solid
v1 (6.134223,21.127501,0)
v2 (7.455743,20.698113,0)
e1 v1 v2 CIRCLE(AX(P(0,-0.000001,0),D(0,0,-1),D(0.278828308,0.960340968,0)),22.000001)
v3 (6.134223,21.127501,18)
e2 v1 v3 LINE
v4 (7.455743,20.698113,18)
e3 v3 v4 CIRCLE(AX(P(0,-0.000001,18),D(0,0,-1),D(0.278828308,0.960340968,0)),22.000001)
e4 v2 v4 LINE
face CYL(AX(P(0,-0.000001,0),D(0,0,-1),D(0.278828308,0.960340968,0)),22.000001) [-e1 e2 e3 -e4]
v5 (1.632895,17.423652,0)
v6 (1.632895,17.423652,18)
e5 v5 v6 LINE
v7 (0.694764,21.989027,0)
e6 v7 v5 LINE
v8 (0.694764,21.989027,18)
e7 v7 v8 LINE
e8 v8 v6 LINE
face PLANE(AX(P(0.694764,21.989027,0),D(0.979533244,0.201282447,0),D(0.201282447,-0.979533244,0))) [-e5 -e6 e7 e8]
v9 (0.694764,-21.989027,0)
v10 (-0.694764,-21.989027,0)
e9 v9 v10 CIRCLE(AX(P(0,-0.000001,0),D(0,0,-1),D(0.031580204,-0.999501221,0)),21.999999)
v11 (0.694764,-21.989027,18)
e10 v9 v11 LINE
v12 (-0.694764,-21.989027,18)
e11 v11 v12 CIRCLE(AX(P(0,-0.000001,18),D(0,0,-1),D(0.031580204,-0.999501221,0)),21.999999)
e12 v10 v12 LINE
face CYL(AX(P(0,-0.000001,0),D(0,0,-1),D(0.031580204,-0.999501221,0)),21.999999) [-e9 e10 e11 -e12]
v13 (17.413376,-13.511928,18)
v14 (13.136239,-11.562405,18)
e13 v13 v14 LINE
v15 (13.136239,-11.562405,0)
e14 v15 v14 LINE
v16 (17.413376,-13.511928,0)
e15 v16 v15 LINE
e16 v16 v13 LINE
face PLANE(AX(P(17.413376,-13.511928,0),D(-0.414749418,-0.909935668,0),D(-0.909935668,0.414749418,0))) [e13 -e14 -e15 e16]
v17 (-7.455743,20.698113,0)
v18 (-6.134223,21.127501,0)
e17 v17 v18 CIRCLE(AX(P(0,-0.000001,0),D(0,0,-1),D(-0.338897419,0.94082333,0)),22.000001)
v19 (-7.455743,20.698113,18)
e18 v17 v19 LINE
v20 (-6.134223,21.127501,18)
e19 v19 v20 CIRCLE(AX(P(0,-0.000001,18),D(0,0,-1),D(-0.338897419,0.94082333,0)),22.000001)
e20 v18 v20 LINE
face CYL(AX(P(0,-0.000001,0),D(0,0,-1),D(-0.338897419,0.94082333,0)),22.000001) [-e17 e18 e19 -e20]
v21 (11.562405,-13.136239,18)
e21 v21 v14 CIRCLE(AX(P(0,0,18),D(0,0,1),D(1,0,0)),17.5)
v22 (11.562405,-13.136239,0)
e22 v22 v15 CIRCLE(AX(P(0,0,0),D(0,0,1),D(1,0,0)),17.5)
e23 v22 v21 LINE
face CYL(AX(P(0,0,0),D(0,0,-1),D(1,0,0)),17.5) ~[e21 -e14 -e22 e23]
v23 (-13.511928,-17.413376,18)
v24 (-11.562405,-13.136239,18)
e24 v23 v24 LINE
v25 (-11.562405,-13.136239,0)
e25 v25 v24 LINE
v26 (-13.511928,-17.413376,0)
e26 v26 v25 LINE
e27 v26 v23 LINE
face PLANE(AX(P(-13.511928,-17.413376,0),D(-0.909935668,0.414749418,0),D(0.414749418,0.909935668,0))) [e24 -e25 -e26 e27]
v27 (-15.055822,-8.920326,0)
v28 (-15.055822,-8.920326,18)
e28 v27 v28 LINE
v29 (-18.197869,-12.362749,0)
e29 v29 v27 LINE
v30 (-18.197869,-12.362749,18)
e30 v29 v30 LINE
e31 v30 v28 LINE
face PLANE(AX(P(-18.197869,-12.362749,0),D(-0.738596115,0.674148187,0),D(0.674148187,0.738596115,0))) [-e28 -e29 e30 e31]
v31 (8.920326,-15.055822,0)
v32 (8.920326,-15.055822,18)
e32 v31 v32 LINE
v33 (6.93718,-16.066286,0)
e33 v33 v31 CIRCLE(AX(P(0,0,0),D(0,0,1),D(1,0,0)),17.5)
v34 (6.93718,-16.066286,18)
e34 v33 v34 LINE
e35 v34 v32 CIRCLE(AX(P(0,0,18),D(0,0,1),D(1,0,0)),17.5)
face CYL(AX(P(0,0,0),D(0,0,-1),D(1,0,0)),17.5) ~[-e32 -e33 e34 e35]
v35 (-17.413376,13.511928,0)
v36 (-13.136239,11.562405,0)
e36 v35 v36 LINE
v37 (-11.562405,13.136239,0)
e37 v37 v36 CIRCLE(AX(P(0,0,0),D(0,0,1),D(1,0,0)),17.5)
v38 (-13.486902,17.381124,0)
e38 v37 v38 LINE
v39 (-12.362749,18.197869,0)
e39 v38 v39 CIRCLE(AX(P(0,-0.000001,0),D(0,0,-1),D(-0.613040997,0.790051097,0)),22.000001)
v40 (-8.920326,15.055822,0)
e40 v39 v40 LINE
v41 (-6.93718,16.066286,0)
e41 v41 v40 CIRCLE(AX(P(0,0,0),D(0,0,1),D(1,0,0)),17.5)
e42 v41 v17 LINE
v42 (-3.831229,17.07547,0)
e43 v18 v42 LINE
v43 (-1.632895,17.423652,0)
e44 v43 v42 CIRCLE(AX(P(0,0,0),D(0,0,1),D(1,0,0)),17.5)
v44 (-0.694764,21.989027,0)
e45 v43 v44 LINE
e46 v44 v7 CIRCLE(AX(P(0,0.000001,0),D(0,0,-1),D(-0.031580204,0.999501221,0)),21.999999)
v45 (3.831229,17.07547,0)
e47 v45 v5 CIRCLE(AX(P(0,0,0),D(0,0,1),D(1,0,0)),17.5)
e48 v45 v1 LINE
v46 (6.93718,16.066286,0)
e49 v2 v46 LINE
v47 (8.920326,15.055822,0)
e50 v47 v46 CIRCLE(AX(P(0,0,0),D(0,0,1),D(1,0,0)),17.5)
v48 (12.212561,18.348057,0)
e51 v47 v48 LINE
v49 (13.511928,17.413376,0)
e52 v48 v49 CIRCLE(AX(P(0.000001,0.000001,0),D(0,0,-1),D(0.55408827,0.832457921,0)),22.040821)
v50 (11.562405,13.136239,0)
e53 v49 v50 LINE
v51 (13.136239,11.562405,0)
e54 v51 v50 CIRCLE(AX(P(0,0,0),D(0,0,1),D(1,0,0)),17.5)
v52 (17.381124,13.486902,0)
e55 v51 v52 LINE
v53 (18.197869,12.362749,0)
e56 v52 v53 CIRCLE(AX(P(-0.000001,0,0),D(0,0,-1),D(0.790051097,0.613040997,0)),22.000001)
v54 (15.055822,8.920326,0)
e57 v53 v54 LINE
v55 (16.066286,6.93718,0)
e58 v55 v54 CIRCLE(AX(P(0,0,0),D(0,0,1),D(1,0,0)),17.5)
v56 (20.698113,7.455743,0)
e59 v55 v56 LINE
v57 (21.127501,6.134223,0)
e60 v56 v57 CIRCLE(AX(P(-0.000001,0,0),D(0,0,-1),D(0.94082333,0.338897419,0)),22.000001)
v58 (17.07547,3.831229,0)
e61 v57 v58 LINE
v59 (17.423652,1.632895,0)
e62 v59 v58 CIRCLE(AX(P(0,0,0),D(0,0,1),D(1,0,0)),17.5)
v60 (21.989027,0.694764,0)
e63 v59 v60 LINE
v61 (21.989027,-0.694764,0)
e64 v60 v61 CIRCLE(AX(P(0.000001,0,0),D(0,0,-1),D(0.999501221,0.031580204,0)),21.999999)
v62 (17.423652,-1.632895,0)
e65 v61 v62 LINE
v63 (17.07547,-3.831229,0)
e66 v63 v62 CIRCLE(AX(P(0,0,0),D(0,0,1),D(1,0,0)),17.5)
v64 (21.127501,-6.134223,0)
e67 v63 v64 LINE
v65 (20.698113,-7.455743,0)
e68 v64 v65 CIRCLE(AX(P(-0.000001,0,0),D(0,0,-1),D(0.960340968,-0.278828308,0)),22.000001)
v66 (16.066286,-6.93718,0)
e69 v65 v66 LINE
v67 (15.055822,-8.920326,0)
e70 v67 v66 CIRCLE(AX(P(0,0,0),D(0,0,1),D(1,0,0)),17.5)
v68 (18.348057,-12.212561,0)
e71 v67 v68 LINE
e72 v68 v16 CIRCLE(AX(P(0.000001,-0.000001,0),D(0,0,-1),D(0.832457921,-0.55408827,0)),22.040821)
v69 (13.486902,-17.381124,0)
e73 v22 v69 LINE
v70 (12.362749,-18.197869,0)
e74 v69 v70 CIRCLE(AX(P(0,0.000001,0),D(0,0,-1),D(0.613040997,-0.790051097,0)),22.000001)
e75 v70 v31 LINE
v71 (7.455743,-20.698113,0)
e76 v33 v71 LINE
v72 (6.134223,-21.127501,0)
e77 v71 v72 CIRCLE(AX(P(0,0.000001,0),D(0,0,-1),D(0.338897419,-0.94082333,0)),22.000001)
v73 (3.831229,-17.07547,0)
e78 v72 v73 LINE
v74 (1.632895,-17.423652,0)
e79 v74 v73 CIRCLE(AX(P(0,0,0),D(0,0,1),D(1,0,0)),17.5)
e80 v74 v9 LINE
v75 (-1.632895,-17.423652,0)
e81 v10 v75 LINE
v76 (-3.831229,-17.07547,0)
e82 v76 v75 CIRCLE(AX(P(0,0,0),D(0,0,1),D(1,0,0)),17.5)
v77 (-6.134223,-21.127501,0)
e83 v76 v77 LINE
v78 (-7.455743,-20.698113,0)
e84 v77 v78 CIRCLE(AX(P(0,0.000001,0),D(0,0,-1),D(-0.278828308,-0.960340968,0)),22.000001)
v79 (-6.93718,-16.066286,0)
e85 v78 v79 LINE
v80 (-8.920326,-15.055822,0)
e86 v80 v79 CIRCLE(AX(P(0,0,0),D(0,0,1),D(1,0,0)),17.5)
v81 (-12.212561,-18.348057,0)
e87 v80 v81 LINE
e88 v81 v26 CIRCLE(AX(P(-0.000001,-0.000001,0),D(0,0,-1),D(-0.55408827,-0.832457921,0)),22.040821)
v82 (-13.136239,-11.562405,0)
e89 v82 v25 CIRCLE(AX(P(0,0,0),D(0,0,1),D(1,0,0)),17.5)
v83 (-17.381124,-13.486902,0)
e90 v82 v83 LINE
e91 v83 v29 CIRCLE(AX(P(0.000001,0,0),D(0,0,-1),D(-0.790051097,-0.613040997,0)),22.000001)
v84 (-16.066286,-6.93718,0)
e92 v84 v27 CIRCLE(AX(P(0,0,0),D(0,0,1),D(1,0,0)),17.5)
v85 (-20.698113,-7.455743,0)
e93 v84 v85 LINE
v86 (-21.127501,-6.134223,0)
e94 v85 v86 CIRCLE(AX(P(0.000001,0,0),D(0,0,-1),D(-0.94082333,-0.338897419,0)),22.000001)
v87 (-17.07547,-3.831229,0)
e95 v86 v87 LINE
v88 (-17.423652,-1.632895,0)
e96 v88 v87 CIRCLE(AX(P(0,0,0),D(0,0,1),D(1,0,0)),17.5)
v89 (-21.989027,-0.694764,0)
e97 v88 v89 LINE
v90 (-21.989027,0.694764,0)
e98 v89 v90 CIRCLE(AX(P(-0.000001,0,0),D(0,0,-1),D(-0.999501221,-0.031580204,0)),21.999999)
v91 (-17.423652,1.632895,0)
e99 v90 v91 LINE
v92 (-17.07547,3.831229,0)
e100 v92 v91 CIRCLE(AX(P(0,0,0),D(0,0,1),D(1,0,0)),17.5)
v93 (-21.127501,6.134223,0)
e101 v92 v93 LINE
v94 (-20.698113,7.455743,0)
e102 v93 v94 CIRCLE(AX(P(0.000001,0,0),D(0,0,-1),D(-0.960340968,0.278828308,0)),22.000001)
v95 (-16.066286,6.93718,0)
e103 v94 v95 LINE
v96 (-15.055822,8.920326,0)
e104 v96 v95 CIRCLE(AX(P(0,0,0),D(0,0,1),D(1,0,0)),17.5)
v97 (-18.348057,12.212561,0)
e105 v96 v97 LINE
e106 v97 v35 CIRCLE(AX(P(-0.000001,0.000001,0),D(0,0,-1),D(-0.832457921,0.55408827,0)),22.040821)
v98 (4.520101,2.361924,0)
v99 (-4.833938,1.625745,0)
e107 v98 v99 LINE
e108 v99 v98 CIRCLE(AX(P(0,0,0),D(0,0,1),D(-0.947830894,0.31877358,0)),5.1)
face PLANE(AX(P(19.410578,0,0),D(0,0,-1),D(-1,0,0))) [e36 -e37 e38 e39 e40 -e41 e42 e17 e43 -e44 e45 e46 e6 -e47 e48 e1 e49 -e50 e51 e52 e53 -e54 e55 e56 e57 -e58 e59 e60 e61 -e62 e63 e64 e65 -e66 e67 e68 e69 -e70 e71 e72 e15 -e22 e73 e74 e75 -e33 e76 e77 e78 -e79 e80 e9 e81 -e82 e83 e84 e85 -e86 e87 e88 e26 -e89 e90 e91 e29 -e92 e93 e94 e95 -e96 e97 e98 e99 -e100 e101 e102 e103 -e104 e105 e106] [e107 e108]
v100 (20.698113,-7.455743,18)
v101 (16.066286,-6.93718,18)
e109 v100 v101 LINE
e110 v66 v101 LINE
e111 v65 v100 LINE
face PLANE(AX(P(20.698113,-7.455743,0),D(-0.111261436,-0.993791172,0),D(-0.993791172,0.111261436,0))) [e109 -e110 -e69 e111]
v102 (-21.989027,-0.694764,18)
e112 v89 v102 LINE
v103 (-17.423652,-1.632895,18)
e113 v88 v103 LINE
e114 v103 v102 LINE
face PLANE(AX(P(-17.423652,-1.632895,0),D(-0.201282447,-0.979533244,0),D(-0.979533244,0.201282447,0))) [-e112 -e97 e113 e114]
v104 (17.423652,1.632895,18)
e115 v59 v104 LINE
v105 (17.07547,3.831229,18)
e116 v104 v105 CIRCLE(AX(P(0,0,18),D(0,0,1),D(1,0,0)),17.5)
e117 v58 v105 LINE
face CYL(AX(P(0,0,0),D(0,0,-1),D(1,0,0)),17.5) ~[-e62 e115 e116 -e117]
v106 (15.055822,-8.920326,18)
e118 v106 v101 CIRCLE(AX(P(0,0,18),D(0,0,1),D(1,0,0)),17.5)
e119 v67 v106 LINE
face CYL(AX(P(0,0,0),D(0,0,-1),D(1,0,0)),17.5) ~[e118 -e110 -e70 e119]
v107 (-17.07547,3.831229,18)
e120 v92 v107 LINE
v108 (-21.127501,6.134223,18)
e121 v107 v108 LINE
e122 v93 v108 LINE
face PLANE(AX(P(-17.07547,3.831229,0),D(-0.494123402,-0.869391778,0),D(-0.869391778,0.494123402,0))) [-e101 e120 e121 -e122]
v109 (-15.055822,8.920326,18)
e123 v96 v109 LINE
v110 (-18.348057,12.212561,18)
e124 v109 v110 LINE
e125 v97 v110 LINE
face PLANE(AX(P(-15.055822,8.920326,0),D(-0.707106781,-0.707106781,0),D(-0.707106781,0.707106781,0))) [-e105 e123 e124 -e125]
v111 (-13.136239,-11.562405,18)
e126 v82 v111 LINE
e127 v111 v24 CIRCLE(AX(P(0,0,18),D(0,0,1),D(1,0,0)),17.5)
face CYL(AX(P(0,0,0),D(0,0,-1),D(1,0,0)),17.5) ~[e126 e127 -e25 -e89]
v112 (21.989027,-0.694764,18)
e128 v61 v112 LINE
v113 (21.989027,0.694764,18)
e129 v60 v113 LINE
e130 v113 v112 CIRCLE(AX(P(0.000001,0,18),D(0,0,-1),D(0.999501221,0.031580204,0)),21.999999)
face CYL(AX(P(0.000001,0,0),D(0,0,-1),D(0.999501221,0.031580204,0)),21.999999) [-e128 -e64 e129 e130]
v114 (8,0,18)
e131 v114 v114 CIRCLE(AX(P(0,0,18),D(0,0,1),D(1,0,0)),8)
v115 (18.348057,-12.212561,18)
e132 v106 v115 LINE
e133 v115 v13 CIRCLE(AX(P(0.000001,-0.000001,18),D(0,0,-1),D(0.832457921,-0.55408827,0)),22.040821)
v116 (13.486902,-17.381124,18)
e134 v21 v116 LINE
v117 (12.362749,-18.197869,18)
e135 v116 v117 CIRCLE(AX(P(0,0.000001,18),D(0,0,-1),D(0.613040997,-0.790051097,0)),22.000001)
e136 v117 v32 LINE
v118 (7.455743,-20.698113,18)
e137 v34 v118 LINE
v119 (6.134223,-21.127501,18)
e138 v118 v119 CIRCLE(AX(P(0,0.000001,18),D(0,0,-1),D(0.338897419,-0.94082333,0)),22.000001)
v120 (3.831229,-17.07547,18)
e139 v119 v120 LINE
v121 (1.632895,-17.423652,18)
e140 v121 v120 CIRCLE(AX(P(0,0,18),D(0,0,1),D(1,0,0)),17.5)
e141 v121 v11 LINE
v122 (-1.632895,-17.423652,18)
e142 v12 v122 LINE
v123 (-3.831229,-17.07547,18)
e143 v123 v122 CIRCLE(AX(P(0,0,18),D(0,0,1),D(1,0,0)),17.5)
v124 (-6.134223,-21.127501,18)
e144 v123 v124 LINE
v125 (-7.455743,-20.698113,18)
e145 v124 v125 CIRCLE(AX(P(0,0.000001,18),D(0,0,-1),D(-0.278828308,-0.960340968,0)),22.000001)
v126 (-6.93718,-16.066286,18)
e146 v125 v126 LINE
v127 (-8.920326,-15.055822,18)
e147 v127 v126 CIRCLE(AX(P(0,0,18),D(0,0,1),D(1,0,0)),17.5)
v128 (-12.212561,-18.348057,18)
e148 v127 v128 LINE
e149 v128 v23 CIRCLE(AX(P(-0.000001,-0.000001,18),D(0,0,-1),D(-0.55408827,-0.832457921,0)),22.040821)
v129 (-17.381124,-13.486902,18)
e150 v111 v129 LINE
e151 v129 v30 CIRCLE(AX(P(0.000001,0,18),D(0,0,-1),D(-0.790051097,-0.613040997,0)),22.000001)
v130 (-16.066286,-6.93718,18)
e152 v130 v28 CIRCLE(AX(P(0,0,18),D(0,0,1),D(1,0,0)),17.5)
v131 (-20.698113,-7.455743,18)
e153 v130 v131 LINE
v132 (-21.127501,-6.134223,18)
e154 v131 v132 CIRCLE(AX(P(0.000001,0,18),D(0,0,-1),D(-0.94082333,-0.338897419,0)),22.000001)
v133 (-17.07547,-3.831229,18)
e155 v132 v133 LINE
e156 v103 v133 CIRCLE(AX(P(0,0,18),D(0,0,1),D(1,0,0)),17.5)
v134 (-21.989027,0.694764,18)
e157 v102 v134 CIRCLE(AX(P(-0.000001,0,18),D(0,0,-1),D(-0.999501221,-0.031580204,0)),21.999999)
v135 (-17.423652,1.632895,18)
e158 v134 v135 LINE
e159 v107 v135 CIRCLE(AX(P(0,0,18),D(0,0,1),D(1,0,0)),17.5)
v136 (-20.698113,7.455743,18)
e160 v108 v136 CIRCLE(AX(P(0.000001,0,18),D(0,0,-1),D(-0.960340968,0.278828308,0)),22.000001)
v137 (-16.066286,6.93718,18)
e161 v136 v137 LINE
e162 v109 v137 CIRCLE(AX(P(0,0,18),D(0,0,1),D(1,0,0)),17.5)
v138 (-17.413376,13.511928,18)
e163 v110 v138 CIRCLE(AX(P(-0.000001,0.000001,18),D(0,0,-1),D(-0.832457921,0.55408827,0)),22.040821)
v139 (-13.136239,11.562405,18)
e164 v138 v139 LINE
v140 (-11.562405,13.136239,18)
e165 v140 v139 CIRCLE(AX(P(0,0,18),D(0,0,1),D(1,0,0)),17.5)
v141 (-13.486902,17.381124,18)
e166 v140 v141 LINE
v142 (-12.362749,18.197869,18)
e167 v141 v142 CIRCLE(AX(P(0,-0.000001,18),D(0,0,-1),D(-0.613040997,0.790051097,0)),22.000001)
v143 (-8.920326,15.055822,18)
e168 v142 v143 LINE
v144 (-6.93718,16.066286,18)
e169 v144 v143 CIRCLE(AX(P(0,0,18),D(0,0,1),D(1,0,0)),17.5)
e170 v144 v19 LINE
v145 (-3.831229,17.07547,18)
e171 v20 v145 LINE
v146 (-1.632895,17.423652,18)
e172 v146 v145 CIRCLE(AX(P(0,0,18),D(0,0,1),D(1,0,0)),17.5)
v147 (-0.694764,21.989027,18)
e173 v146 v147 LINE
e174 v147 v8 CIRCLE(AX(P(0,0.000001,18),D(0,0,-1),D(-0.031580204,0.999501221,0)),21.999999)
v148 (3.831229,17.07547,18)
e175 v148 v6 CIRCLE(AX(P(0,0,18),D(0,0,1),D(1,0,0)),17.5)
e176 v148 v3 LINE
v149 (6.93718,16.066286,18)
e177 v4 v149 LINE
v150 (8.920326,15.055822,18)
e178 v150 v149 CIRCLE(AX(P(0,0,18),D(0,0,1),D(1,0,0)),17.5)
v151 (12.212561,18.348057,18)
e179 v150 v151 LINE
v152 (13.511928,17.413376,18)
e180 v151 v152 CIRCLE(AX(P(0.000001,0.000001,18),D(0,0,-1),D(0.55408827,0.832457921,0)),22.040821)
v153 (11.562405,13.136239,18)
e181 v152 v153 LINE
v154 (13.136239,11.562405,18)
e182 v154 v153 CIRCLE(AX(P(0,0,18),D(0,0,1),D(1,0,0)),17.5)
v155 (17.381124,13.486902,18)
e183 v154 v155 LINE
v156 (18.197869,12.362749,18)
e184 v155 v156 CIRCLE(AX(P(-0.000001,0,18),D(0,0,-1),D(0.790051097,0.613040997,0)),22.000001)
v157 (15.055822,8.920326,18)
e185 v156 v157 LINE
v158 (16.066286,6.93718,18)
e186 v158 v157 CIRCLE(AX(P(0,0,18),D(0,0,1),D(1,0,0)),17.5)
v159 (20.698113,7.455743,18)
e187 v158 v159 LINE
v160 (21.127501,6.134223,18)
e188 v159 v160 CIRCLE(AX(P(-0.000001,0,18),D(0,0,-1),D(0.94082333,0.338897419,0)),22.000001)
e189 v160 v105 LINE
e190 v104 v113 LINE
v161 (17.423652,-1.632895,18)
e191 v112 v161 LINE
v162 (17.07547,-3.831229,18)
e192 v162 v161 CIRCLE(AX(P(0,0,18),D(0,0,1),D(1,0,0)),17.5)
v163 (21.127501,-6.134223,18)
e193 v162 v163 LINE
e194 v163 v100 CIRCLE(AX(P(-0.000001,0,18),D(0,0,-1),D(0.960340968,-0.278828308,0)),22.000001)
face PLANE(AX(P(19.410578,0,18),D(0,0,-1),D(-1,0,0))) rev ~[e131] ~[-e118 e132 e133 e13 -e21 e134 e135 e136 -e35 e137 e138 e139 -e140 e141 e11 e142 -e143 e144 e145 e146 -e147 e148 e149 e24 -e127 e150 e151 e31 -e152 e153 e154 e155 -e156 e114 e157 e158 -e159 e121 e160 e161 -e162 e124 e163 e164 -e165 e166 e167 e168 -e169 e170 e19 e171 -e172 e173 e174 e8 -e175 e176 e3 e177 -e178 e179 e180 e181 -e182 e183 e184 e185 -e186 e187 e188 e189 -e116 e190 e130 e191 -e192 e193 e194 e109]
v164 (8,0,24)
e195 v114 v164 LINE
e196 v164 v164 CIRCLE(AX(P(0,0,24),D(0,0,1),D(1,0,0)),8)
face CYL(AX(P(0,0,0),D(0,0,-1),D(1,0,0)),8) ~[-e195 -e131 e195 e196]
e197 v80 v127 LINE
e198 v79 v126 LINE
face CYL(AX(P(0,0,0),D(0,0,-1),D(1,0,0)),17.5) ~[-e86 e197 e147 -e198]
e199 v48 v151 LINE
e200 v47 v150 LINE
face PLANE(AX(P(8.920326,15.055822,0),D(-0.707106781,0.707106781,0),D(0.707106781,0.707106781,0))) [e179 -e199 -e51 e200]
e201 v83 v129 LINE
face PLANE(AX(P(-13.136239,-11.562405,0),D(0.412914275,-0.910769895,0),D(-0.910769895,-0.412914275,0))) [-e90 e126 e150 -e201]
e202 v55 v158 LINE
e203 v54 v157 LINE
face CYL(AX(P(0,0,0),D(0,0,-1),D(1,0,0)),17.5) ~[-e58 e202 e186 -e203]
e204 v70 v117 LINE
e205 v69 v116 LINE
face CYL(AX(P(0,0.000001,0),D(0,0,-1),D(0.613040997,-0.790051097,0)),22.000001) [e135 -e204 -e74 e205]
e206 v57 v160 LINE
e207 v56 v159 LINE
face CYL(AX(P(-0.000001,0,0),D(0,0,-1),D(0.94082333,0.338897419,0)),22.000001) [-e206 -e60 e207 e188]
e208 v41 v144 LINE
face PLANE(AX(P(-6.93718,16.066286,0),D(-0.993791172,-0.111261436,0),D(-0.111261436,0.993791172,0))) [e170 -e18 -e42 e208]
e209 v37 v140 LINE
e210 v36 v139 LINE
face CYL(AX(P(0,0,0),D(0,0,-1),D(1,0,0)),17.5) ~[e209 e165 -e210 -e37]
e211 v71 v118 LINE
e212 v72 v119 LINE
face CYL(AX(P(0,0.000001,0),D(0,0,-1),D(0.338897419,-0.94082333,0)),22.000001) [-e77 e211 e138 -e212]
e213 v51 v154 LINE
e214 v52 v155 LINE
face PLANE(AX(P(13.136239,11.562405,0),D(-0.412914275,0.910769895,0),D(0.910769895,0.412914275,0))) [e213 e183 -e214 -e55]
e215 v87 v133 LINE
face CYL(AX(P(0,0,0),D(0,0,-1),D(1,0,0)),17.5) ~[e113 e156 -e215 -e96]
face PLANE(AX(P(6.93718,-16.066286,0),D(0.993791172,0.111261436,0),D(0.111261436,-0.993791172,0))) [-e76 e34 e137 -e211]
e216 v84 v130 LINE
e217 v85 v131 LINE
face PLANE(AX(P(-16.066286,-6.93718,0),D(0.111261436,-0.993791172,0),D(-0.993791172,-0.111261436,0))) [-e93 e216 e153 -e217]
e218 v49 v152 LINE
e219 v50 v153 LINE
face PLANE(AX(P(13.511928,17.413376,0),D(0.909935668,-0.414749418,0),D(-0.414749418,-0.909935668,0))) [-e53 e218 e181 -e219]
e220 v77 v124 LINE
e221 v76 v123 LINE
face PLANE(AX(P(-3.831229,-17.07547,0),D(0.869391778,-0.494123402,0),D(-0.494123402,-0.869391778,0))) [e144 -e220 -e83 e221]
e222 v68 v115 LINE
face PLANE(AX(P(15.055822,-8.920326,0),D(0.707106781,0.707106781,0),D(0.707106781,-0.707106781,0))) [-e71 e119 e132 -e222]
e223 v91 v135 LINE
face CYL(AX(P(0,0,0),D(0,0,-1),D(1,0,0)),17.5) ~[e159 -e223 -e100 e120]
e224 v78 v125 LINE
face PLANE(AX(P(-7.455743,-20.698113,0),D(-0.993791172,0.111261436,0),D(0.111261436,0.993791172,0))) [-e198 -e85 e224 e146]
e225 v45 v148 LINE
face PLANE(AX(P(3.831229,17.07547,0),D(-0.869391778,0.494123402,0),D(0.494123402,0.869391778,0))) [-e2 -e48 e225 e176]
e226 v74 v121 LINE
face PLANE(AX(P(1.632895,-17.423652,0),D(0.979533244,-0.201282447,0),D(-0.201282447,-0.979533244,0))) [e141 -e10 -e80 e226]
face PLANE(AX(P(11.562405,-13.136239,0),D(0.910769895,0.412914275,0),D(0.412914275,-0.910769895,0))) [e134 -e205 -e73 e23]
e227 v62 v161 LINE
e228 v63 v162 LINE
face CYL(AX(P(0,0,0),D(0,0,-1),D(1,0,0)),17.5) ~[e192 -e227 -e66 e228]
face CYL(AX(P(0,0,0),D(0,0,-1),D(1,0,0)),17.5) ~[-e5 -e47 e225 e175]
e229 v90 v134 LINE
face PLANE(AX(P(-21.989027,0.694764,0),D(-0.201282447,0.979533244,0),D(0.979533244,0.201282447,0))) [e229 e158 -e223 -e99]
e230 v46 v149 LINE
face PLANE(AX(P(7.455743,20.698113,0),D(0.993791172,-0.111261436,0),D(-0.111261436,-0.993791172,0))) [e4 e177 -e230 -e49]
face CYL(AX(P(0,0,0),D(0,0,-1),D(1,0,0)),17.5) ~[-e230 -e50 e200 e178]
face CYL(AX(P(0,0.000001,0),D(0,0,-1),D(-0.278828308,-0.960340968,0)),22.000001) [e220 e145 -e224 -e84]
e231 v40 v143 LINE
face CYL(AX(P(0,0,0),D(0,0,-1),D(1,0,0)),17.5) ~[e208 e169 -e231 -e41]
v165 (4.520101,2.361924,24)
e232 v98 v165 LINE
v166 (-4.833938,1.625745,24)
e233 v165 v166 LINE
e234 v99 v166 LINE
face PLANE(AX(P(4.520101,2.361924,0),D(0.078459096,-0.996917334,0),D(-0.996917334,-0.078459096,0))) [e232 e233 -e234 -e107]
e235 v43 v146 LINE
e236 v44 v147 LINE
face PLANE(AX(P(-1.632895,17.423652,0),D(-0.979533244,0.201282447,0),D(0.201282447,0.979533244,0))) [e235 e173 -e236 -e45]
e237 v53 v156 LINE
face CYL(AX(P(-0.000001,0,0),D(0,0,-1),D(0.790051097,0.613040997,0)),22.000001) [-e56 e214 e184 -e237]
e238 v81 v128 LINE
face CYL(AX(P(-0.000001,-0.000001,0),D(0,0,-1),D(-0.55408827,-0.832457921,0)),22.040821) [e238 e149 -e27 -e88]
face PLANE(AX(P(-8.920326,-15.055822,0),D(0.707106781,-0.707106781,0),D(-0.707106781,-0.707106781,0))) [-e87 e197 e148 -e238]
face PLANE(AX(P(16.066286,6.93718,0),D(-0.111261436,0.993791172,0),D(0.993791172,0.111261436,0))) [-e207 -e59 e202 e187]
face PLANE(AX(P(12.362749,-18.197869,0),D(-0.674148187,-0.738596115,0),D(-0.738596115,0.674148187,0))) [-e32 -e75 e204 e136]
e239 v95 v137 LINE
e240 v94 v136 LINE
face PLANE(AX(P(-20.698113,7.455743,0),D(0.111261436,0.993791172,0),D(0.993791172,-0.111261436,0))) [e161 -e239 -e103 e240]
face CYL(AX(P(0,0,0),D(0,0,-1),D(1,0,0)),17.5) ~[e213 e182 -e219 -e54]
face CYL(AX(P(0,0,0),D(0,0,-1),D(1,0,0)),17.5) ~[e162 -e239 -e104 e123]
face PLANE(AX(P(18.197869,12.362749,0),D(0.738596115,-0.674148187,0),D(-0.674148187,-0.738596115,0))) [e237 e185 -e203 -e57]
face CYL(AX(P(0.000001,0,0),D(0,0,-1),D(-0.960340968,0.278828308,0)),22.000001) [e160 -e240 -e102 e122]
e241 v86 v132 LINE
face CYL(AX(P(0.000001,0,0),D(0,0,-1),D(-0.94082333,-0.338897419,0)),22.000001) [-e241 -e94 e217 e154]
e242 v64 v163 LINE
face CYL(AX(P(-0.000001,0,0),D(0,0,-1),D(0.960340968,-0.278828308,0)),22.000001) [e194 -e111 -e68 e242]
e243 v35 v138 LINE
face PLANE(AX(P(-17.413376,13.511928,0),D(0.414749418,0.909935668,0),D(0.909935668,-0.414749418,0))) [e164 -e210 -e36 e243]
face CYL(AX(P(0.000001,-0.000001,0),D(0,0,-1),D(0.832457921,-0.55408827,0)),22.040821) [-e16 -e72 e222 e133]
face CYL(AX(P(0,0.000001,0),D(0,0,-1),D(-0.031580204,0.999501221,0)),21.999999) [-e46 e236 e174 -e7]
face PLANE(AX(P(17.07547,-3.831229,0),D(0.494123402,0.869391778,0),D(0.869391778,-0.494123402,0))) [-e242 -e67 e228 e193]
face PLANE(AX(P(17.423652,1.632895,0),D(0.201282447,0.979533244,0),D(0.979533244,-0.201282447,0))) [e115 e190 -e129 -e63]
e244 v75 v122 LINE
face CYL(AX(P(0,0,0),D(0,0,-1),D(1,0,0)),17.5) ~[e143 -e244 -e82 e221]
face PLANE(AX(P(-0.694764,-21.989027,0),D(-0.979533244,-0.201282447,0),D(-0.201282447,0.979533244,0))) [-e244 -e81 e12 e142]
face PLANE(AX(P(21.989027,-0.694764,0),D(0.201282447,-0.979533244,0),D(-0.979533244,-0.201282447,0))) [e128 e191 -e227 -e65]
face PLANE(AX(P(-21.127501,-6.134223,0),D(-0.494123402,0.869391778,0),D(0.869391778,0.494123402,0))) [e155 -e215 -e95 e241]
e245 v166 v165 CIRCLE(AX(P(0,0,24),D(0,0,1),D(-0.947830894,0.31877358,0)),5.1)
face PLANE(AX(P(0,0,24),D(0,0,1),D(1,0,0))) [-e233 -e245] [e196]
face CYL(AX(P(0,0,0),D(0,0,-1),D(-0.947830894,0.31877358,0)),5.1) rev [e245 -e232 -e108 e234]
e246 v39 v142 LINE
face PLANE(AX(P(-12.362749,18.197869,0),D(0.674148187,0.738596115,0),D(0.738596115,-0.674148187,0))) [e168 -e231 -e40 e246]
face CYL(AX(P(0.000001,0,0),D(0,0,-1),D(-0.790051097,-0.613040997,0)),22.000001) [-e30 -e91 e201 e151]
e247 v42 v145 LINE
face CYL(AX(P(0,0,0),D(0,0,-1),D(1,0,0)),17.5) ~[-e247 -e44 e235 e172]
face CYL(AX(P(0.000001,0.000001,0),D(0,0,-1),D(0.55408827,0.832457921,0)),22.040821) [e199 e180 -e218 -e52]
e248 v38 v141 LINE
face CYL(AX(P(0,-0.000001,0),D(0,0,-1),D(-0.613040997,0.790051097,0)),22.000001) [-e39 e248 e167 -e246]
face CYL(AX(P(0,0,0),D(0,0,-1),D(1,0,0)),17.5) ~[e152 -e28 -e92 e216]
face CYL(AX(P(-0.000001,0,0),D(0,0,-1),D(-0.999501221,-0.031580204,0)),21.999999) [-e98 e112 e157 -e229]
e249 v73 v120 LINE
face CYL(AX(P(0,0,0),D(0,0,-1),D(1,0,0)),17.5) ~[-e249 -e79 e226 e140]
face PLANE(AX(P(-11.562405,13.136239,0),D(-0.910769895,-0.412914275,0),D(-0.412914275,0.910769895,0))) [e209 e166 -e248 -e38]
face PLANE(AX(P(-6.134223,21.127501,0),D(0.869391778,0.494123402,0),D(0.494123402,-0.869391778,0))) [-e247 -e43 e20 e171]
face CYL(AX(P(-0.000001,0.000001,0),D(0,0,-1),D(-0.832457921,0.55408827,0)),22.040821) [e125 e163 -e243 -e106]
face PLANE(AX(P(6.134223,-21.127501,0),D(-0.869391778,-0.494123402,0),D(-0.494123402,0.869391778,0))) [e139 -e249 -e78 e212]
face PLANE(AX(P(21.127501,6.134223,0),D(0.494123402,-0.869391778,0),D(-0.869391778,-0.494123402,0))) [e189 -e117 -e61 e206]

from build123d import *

# Parameters (mm, degrees)
SKETCH_1_R       = 8
EXTRUDE_1_DEPTH  = 24
SKETCH_2_R       = 17.5
SKETCH_2_R_2     = 8
EXTRUDE_2_DEPTH  = 18
EXTRUDE_3_DEPTH  = 18
EXTRUDE_4_DEPTH  = 18
EXTRUDE_5_DEPTH  = 18
EXTRUDE_6_DEPTH  = 18
EXTRUDE_7_DEPTH  = 18
EXTRUDE_8_DEPTH  = 18
EXTRUDE_9_DEPTH  = 18
EXTRUDE_10_DEPTH = 18
EXTRUDE_11_DEPTH = 18
EXTRUDE_12_DEPTH = 18
EXTRUDE_13_DEPTH = 18
EXTRUDE_14_DEPTH = 18
EXTRUDE_15_DEPTH = 18
EXTRUDE_16_DEPTH = 18
EXTRUDE_17_DEPTH = 18
EXTRUDE_18_DEPTH = 18
EXTRUDE_19_DEPTH = 18
EXTRUDE_20_DEPTH = 18
EXTRUDE_21_DEPTH = 18
EXTRUDE_22_DEPTH = 18


with BuildPart() as part:
    # 草图1 → 凸台-拉伸1 (new body)
    with BuildSketch(Plane.XY):
        Circle(SKETCH_1_R)
        with BuildLine():
            Line((4.520101179, 2.361924075), (-4.833937562, 1.62574526))
            ThreePointArc((-4.833937562, 1.62574526), (0.400141388, -5.084278402), (4.520101179, 2.361924075))
        make_face(mode=Mode.SUBTRACT)
    extrude(amount=EXTRUDE_1_DEPTH)

    # 草图2 → 凸台-拉伸2 (add)
    with BuildSketch(Plane.XY):
        Circle(SKETCH_2_R)
        Circle(SKETCH_2_R_2, mode=Mode.SUBTRACT)
    extrude(amount=EXTRUDE_2_DEPTH)

    # 草图3 → 凸台-拉伸3 (add)
    with BuildSketch(Plane.XY):
        with BuildLine():
            Line((17.423652167, 1.632894724), (21.989026862, 0.69476445))
            ThreePointArc((21.989026862, 0.69476445), (22, 0), (21.989026862, -0.69476445))
            Line((21.989026862, -0.69476445), (17.423652167, -1.632894724))
            ThreePointArc((17.423652167, -1.632894724), (17.5, 0), (17.423652167, 1.632894724))
        make_face()
    extrude(amount=EXTRUDE_3_DEPTH)

    # 草图4 → 凸台-拉伸4 (add)
    with BuildSketch(Plane.XY):
        with BuildLine():
            Line((16.066285711, 6.937179791), (20.698113262, 7.455743248))
            ThreePointArc((20.698113262, 7.455743248), (20.923243358, 6.798373876), (21.127501307, 6.134222733))
            Line((21.127501307, 6.134222733), (17.07547015, 3.831229456))
            ThreePointArc((17.07547015, 3.831229456), (16.643489035, 5.407797402), (16.066285711, 6.937179791))
        make_face()
    extrude(amount=EXTRUDE_4_DEPTH)

    # 草图5 → 凸台-拉伸5 (add)
    with BuildSketch(Plane.XY):
        with BuildLine():
            Line((13.13623927, 11.562405366), (17.381124124, 13.486901949))
            ThreePointArc((17.381124124, 13.486901949), (17.798373876, 12.93127555), (18.197868719, 12.362749455))
            Line((18.197868719, 12.362749455), (15.055822144, 8.920326203))
            ThreePointArc((15.055822144, 8.920326203), (14.157797402, 10.286241915), (13.13623927, 11.562405366))
        make_face()
    extrude(amount=EXTRUDE_5_DEPTH)

    # 草图6 → 凸台-拉伸6 (add)
    with BuildSketch(Plane.XY):
        with BuildLine():
            Line((8.920326203, 15.055822144), (12.212561116, 18.348057057))
            ThreePointArc((12.212561116, 18.348057057), (12.870731845, 17.892515435), (13.511927681, 17.413375811))
            Line((13.511927681, 17.413375811), (11.562405366, 13.13623927))
            ThreePointArc((11.562405366, 13.13623927), (10.286241915, 14.157797402), (8.920326203, 15.055822144))
        make_face()
    extrude(amount=EXTRUDE_6_DEPTH)

    # 草图7 → 凸台-拉伸7 (add)
    with BuildSketch(Plane.XY):
        with BuildLine():
            Line((3.831229456, 17.07547015), (6.134222733, 21.127501307))
            ThreePointArc((6.134222733, 21.127501307), (6.798373876, 20.923243358), (7.455743248, 20.698113262))
            Line((7.455743248, 20.698113262), (6.937179791, 16.066285711))
            ThreePointArc((6.937179791, 16.066285711), (5.407797402, 16.643489035), (3.831229456, 17.07547015))
        make_face()
    extrude(amount=EXTRUDE_7_DEPTH)

    # 草图8 → 凸台-拉伸8 (add)
    with BuildSketch(Plane.XY):
        with BuildLine():
            Line((-1.632894724, 17.423652167), (-0.69476445, 21.989026862))
            ThreePointArc((-0.69476445, 21.989026862), (0, 22), (0.69476445, 21.989026862))
            Line((0.69476445, 21.989026862), (1.632894724, 17.423652167))
            ThreePointArc((1.632894724, 17.423652167), (0, 17.5), (-1.632894724, 17.423652167))
        make_face()
    extrude(amount=EXTRUDE_8_DEPTH)

    # 草图9 → 凸台-拉伸9 (add)
    with BuildSketch(Plane.XY):
        with BuildLine():
            Line((-6.937179791, 16.066285711), (-7.455743248, 20.698113262))
            ThreePointArc((-7.455743248, 20.698113262), (-6.798373876, 20.923243358), (-6.134222733, 21.127501307))
            Line((-6.134222733, 21.127501307), (-3.831229456, 17.07547015))
            ThreePointArc((-3.831229456, 17.07547015), (-5.407797402, 16.643489035), (-6.937179791, 16.066285711))
        make_face()
    extrude(amount=EXTRUDE_9_DEPTH)

    # 草图10 → 凸台-拉伸10 (add)
    with BuildSketch(Plane.XY):
        with BuildLine():
            Line((-11.562405366, 13.13623927), (-13.486901949, 17.381124124))
            ThreePointArc((-13.486901949, 17.381124124), (-12.93127555, 17.798373876), (-12.362749455, 18.197868719))
            Line((-12.362749455, 18.197868719), (-8.920326203, 15.055822144))
            ThreePointArc((-8.920326203, 15.055822144), (-10.286241915, 14.157797402), (-11.562405366, 13.13623927))
        make_face()
    extrude(amount=EXTRUDE_10_DEPTH)

    # 草图11 → 凸台-拉伸11 (add)
    with BuildSketch(Plane.XY):
        with BuildLine():
            Line((-15.055822144, 8.920326203), (-18.348057057, 12.212561116))
            ThreePointArc((-18.348057057, 12.212561116), (-17.892515435, 12.870731845), (-17.413375811, 13.511927681))
            Line((-17.413375811, 13.511927681), (-13.13623927, 11.562405366))
            ThreePointArc((-13.13623927, 11.562405366), (-14.157797402, 10.286241915), (-15.055822144, 8.920326203))
        make_face()
    extrude(amount=EXTRUDE_11_DEPTH)

    # 草图12 → 凸台-拉伸12 (add)
    with BuildSketch(Plane.XY):
        with BuildLine():
            Line((-17.07547015, 3.831229456), (-21.127501307, 6.134222733))
            ThreePointArc((-21.127501307, 6.134222733), (-20.923243358, 6.798373876), (-20.698113262, 7.455743248))
            Line((-20.698113262, 7.455743248), (-16.066285711, 6.937179791))
            ThreePointArc((-16.066285711, 6.937179791), (-16.643489035, 5.407797402), (-17.07547015, 3.831229456))
        make_face()
    extrude(amount=EXTRUDE_12_DEPTH)

    # 草图13 → 凸台-拉伸13 (add)
    with BuildSketch(Plane.XY):
        with BuildLine():
            Line((-17.423652167, -1.632894724), (-21.989026862, -0.69476445))
            ThreePointArc((-21.989026862, -0.69476445), (-22, 0), (-21.989026862, 0.69476445))
            Line((-21.989026862, 0.69476445), (-17.423652167, 1.632894724))
            ThreePointArc((-17.423652167, 1.632894724), (-17.5, 0), (-17.423652167, -1.632894724))
        make_face()
    extrude(amount=EXTRUDE_13_DEPTH)

    # 草图14 → 凸台-拉伸14 (add)
    with BuildSketch(Plane.XY):
        with BuildLine():
            Line((-16.066285711, -6.937179791), (-20.698113262, -7.455743248))
            ThreePointArc((-20.698113262, -7.455743248), (-20.923243358, -6.798373876), (-21.127501307, -6.134222733))
            Line((-21.127501307, -6.134222733), (-17.07547015, -3.831229456))
            ThreePointArc((-17.07547015, -3.831229456), (-16.643489035, -5.407797402), (-16.066285711, -6.937179791))
        make_face()
    extrude(amount=EXTRUDE_14_DEPTH)

    # 草图15 → 凸台-拉伸15 (add)
    with BuildSketch(Plane.XY):
        with BuildLine():
            Line((-13.13623927, -11.562405366), (-17.381124124, -13.486901949))
            ThreePointArc((-17.381124124, -13.486901949), (-17.798373876, -12.93127555), (-18.197868719, -12.362749455))
            Line((-18.197868719, -12.362749455), (-15.055822144, -8.920326203))
            ThreePointArc((-15.055822144, -8.920326203), (-14.157797402, -10.286241915), (-13.13623927, -11.562405366))
        make_face()
    extrude(amount=EXTRUDE_15_DEPTH)

    # 草图16 → 凸台-拉伸16 (add)
    with BuildSketch(Plane.XY):
        with BuildLine():
            Line((-8.920326203, -15.055822144), (-12.212561116, -18.348057057))
            ThreePointArc((-12.212561116, -18.348057057), (-12.870731845, -17.892515435), (-13.511927681, -17.413375811))
            Line((-13.511927681, -17.413375811), (-11.562405366, -13.13623927))
            ThreePointArc((-11.562405366, -13.13623927), (-10.286241915, -14.157797402), (-8.920326203, -15.055822144))
        make_face()
    extrude(amount=EXTRUDE_16_DEPTH)

    # 草图17 → 凸台-拉伸17 (add)
    with BuildSketch(Plane.XY):
        with BuildLine():
            Line((-3.831229456, -17.07547015), (-6.134222733, -21.127501307))
            ThreePointArc((-6.134222733, -21.127501307), (-6.798373876, -20.923243358), (-7.455743248, -20.698113262))
            Line((-7.455743248, -20.698113262), (-6.937179791, -16.066285711))
            ThreePointArc((-6.937179791, -16.066285711), (-5.407797402, -16.643489035), (-3.831229456, -17.07547015))
        make_face()
    extrude(amount=EXTRUDE_17_DEPTH)

    # 草图18 → 凸台-拉伸18 (add)
    with BuildSketch(Plane.XY):
        with BuildLine():
            Line((1.632894724, -17.423652167), (0.69476445, -21.989026862))
            ThreePointArc((0.69476445, -21.989026862), (0, -22), (-0.69476445, -21.989026862))
            Line((-0.69476445, -21.989026862), (-1.632894724, -17.423652167))
            ThreePointArc((-1.632894724, -17.423652167), (0, -17.5), (1.632894724, -17.423652167))
        make_face()
    extrude(amount=EXTRUDE_18_DEPTH)

    # 草图19 → 凸台-拉伸19 (add)
    with BuildSketch(Plane.XY):
        with BuildLine():
            Line((6.937179791, -16.066285711), (7.455743248, -20.698113262))
            ThreePointArc((7.455743248, -20.698113262), (6.798373876, -20.923243358), (6.134222733, -21.127501307))
            Line((6.134222733, -21.127501307), (3.831229456, -17.07547015))
            ThreePointArc((3.831229456, -17.07547015), (5.407797402, -16.643489035), (6.937179791, -16.066285711))
        make_face()
    extrude(amount=EXTRUDE_19_DEPTH)

    # 草图20 → 凸台-拉伸20 (add)
    with BuildSketch(Plane.XY):
        with BuildLine():
            Line((11.562405366, -13.13623927), (13.486901949, -17.381124124))
            ThreePointArc((13.486901949, -17.381124124), (12.93127555, -17.798373876), (12.362749455, -18.197868719))
            Line((12.362749455, -18.197868719), (8.920326203, -15.055822144))
            ThreePointArc((8.920326203, -15.055822144), (10.286241915, -14.157797402), (11.562405366, -13.13623927))
        make_face()
    extrude(amount=EXTRUDE_20_DEPTH)

    # 草图21 → 凸台-拉伸21 (add)
    with BuildSketch(Plane.XY):
        with BuildLine():
            Line((15.055822144, -8.920326203), (18.348057057, -12.212561116))
            ThreePointArc((18.348057057, -12.212561116), (17.892515435, -12.870731845), (17.413375811, -13.511927681))
            Line((17.413375811, -13.511927681), (13.13623927, -11.562405366))
            ThreePointArc((13.13623927, -11.562405366), (14.157797402, -10.286241915), (15.055822144, -8.920326203))
        make_face()
    extrude(amount=EXTRUDE_21_DEPTH)

    # 草图22 → 凸台-拉伸22 (add)
    with BuildSketch(Plane.XY):
        with BuildLine():
            Line((17.07547015, -3.831229456), (21.127501307, -6.134222733))
            ThreePointArc((21.127501307, -6.134222733), (20.923243358, -6.798373876), (20.698113262, -7.455743248))
            Line((20.698113262, -7.455743248), (16.066285711, -6.937179791))
            ThreePointArc((16.066285711, -6.937179791), (16.643489035, -5.407797402), (17.07547015, -3.831229456))
        make_face()
    extrude(amount=EXTRUDE_22_DEPTH)


solid = part.part
